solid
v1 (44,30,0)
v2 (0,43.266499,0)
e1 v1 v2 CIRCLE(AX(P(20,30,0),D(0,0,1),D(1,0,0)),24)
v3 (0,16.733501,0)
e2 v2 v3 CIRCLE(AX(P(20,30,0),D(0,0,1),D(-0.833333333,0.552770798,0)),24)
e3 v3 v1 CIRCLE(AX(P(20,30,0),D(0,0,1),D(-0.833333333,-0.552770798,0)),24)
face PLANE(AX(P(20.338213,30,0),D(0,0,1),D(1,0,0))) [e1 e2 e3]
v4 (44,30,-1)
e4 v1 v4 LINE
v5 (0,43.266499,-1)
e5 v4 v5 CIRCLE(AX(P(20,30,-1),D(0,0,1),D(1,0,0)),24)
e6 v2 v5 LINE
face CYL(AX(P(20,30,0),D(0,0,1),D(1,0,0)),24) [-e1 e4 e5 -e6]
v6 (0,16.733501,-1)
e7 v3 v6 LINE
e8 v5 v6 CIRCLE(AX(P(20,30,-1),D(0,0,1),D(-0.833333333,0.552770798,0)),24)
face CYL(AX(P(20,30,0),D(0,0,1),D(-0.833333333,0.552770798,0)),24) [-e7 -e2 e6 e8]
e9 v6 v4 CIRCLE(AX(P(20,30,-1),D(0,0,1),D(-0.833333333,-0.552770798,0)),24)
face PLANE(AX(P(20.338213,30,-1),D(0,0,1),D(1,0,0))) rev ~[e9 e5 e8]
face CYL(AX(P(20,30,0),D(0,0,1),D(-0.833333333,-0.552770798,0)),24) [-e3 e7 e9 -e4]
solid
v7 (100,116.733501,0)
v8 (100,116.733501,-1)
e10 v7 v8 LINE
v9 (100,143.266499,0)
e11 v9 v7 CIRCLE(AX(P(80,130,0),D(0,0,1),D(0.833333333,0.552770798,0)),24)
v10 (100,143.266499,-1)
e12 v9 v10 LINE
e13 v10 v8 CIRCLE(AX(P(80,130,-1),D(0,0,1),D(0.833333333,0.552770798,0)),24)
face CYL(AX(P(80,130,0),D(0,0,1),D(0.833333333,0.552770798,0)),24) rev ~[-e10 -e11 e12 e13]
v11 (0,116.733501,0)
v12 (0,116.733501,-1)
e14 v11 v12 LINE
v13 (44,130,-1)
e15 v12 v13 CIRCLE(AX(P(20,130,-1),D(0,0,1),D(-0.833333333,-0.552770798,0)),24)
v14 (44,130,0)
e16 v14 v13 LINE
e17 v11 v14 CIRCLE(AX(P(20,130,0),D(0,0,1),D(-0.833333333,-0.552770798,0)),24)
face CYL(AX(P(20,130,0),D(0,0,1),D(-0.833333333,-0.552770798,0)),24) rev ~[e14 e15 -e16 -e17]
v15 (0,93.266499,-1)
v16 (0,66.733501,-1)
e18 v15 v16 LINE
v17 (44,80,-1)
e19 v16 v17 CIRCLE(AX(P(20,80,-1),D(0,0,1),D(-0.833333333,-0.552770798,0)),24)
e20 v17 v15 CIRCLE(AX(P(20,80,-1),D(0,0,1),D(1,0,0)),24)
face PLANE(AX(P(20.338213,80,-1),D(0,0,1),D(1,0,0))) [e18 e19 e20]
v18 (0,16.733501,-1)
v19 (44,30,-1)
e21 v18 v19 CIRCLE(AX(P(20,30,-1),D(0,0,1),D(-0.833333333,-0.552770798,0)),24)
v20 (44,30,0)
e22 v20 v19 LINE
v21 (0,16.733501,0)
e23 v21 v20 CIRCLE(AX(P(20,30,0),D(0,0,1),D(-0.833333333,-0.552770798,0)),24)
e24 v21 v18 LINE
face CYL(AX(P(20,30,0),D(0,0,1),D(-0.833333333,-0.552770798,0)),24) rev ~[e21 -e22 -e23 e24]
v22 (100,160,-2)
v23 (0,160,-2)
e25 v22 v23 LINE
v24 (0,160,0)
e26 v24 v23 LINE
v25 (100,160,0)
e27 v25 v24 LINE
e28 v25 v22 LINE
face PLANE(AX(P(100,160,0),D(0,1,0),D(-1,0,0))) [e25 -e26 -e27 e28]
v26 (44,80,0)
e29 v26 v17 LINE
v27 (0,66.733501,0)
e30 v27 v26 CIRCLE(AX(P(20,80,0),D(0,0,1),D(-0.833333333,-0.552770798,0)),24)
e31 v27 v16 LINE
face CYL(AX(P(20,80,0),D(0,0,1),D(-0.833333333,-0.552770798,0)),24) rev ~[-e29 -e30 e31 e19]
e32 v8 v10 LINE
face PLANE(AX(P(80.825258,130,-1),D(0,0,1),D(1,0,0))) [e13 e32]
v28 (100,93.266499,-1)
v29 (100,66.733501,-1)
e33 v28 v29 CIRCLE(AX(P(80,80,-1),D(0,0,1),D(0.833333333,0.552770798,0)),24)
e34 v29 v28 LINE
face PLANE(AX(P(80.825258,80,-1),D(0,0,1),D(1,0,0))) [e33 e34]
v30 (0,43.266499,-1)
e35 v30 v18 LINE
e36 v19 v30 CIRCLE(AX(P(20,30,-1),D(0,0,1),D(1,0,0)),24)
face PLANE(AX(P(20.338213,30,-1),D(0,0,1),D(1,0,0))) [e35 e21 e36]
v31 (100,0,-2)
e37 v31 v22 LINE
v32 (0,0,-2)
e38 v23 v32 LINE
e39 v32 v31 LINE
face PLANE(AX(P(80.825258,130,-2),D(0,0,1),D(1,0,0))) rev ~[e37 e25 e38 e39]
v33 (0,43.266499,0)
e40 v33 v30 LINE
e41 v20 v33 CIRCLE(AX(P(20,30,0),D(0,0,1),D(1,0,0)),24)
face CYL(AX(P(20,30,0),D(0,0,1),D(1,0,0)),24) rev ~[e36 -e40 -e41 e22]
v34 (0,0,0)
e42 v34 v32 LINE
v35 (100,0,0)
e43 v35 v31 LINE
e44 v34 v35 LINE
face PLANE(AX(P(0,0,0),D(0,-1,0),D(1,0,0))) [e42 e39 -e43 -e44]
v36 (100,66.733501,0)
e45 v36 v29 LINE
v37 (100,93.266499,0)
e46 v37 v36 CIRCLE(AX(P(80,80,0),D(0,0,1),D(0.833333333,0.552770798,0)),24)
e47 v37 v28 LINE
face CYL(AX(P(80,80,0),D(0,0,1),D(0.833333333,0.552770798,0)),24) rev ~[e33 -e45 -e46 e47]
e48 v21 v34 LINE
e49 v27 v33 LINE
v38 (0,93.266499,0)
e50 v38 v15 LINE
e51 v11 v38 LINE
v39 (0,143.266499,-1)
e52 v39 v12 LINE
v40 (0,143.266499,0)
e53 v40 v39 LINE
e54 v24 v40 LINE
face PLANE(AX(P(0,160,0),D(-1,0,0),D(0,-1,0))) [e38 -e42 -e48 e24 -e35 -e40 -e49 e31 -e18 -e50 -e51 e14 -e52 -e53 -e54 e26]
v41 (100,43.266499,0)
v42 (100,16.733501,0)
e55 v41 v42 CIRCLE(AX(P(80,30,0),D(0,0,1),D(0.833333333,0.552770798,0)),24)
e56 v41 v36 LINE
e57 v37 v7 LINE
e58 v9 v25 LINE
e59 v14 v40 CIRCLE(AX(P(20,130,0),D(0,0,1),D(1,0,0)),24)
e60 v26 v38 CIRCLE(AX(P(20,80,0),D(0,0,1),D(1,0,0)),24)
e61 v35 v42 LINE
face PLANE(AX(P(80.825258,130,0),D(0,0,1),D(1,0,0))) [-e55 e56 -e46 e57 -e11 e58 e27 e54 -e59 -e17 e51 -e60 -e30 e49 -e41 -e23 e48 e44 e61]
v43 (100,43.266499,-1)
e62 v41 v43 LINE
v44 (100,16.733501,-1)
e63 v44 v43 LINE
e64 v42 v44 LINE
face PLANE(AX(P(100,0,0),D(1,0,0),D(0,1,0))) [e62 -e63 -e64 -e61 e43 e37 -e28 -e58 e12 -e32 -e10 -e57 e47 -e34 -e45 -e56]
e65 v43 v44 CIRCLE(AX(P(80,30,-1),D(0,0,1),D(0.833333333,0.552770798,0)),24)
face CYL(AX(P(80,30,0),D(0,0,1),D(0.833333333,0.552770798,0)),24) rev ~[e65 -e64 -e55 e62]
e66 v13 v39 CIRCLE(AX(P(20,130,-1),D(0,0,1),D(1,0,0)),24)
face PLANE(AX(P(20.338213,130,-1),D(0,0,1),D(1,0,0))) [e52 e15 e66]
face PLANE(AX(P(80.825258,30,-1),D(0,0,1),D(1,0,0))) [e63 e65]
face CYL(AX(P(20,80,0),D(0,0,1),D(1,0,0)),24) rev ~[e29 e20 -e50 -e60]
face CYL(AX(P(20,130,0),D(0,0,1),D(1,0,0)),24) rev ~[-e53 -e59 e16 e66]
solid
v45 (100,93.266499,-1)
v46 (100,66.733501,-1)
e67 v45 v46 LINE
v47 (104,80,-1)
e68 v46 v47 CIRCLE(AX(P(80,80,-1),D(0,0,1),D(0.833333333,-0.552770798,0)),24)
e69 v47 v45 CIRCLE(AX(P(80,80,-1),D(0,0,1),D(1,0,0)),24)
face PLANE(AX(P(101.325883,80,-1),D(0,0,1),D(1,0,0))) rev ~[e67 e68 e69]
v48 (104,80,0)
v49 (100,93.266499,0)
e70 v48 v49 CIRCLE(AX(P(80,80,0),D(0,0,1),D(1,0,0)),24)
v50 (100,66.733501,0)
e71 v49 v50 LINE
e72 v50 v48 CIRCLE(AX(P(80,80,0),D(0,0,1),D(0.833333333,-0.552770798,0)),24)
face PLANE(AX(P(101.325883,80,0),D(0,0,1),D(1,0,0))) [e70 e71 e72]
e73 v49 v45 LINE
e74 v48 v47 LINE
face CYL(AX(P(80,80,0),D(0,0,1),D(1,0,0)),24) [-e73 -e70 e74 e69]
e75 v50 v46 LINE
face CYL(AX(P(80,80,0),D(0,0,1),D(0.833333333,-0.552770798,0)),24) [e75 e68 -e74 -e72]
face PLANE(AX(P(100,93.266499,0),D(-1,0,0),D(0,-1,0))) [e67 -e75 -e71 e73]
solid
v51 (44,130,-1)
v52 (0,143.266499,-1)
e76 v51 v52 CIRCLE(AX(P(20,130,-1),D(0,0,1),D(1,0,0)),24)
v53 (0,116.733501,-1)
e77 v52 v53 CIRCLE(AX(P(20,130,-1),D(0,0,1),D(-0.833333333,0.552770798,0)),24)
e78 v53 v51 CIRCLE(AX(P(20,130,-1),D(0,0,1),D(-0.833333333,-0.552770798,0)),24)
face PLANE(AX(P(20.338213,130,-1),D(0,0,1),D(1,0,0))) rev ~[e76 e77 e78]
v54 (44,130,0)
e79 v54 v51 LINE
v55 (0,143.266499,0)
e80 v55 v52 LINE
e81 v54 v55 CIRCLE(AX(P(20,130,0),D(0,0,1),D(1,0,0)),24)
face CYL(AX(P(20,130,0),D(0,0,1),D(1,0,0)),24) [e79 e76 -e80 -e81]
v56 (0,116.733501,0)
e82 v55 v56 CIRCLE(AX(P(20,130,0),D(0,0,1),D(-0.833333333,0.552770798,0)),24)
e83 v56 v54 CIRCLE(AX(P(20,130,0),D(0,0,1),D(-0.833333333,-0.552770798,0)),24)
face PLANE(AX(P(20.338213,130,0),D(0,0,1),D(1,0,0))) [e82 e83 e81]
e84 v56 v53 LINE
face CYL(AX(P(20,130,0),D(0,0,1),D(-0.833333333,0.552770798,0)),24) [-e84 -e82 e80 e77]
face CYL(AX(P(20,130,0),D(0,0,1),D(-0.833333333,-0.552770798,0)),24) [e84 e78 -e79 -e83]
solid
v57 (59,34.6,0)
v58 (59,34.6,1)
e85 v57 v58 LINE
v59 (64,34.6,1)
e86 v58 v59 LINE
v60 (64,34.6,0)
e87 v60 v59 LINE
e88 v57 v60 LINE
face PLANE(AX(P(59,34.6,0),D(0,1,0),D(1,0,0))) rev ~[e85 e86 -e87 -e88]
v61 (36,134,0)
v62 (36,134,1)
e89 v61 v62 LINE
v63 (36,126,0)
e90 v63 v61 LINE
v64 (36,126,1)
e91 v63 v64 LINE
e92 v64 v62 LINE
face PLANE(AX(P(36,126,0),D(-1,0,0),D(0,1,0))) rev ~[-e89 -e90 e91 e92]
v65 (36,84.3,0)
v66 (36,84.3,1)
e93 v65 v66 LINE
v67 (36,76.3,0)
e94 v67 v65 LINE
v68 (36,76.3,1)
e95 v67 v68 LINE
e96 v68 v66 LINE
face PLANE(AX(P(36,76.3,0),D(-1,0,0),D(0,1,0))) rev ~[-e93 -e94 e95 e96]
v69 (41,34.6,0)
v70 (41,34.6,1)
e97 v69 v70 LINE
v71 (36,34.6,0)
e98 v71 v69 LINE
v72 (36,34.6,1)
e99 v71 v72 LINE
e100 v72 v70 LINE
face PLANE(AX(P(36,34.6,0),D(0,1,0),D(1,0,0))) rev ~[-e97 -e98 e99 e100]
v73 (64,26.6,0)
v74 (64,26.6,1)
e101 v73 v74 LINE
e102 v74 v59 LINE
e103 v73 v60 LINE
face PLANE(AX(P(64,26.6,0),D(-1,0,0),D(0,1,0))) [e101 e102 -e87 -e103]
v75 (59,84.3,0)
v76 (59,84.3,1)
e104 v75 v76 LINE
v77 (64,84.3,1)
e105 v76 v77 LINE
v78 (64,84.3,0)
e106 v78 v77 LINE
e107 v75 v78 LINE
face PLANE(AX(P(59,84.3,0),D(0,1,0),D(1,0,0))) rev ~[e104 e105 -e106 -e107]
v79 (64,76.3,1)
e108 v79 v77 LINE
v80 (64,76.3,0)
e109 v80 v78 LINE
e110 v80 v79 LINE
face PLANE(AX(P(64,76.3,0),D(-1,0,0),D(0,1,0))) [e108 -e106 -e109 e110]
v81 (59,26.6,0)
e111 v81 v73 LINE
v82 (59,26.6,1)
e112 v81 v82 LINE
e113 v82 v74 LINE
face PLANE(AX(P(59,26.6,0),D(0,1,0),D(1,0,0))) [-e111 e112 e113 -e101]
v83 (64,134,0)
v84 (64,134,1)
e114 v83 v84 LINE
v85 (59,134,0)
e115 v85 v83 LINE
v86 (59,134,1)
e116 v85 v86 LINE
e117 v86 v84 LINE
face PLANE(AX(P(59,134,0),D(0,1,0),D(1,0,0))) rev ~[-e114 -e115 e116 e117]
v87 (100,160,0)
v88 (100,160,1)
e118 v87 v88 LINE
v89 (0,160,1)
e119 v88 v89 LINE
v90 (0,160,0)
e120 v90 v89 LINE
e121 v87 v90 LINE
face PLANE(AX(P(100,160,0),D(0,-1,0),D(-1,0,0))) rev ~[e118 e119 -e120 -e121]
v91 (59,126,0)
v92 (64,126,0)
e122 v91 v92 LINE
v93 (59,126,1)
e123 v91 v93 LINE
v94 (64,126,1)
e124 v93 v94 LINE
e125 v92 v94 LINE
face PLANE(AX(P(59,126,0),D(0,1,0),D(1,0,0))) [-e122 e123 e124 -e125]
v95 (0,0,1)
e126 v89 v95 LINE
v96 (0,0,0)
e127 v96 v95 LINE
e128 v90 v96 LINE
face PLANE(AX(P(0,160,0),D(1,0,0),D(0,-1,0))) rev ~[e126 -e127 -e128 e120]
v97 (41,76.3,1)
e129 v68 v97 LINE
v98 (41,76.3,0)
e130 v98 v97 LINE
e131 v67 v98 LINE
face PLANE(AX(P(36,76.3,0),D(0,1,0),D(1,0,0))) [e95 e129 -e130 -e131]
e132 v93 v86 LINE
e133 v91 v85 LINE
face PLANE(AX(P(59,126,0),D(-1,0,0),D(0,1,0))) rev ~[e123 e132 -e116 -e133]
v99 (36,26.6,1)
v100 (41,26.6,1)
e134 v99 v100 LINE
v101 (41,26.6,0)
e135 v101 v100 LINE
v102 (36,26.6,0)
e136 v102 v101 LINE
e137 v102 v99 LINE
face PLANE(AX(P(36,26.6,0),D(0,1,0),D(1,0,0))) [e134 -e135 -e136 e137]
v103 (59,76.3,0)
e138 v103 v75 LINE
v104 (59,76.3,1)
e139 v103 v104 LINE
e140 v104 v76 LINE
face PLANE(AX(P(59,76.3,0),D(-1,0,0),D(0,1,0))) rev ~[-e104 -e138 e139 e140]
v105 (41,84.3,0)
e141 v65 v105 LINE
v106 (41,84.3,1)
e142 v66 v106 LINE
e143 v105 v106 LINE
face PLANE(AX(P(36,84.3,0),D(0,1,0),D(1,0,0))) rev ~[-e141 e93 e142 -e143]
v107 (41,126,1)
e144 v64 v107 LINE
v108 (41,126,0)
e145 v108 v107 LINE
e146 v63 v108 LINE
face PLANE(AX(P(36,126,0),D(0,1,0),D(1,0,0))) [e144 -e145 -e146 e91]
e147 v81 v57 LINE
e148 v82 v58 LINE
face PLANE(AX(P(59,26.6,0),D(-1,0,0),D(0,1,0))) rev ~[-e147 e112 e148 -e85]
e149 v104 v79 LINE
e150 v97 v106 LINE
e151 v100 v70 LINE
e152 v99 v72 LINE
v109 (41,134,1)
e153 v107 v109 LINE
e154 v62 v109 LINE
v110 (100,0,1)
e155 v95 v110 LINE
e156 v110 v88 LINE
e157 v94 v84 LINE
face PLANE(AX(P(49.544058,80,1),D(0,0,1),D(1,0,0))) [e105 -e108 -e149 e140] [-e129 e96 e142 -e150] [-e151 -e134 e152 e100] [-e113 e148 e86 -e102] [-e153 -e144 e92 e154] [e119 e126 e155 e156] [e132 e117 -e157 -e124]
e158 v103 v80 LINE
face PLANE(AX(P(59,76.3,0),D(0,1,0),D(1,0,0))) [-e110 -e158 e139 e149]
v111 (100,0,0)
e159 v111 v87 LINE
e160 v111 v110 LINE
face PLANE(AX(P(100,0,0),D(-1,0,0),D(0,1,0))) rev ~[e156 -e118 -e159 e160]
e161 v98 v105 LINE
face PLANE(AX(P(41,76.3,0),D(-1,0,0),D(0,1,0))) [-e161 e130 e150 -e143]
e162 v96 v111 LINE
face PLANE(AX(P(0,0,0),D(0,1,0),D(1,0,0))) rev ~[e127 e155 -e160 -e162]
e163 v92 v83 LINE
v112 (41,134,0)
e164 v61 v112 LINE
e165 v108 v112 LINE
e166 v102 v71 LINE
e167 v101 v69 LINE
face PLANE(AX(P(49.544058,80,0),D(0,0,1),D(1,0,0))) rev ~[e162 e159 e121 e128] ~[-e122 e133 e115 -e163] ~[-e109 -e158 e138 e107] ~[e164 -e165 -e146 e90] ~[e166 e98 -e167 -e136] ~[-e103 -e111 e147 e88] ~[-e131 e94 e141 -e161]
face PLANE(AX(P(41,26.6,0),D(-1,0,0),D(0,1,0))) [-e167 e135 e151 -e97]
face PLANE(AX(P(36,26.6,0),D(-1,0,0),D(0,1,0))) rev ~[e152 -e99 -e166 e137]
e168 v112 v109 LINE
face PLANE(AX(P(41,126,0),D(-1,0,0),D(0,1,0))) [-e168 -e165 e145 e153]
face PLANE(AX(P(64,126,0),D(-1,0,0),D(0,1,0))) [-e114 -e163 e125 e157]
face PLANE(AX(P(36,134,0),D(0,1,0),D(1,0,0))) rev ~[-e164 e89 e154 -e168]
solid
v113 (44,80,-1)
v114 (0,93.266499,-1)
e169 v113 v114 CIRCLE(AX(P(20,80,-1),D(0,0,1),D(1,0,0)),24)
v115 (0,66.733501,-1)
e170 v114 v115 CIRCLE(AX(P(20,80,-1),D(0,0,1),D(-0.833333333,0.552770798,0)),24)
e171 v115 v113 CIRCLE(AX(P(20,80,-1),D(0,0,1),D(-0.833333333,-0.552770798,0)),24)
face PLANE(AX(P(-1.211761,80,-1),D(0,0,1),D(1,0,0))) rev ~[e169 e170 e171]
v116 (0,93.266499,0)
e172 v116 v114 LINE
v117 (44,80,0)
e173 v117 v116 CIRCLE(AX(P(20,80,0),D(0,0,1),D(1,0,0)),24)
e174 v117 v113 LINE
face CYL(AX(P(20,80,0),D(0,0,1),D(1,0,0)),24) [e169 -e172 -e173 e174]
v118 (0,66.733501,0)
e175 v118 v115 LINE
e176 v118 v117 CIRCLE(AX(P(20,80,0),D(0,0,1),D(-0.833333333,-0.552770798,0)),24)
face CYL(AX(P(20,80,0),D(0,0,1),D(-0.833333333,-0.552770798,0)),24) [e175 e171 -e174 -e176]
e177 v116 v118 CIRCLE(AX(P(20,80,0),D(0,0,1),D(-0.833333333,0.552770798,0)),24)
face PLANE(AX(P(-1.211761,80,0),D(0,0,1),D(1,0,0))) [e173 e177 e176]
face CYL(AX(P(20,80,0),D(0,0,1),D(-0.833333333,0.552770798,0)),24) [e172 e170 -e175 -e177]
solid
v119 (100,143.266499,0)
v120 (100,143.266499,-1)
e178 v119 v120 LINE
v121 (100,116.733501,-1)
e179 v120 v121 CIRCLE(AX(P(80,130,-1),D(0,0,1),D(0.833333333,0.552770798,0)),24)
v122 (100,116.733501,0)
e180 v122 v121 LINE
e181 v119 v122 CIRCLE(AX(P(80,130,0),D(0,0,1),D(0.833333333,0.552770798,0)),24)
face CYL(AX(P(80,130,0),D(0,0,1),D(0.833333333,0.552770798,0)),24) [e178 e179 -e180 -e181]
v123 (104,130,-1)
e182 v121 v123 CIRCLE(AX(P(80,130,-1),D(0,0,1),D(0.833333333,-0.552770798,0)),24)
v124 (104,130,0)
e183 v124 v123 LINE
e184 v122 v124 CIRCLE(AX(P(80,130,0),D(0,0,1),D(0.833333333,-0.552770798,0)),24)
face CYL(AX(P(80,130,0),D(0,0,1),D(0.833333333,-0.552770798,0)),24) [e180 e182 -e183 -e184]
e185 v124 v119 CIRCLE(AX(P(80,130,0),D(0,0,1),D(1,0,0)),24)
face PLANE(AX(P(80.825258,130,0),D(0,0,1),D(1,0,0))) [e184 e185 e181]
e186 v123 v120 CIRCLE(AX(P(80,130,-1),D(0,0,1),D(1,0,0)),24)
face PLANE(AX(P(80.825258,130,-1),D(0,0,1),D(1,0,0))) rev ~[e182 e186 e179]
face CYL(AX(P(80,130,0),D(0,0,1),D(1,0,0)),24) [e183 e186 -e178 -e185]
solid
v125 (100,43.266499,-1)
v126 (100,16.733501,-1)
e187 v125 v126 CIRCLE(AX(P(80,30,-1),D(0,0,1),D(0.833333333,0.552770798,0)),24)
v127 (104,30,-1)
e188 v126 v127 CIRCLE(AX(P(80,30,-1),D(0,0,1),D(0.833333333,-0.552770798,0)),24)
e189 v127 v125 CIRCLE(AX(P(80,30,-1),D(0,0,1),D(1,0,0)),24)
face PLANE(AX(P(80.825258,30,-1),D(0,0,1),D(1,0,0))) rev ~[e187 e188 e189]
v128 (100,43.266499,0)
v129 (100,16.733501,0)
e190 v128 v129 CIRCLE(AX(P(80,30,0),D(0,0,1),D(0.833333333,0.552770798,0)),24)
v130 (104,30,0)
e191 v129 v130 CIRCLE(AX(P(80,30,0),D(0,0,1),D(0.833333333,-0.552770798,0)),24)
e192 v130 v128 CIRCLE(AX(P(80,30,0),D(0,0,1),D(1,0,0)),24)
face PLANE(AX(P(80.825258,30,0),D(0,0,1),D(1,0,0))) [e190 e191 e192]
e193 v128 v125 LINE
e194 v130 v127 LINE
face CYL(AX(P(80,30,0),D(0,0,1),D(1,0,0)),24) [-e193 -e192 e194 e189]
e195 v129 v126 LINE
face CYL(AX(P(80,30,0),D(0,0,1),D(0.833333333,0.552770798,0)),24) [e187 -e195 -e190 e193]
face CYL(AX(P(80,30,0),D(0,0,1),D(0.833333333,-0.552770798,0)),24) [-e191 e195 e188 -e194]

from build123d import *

# Parameters (mm, degrees)
F0_W     = 5
F0_H     = 8
F1_DEPTH = 2
F2_DEPTH = 1
F3_DEPTH = 1
F4_DEPTH = 1


with BuildPart() as f1:
    # F0 (on Top) → F1 (new body)
    with BuildSketch(Plane.XY):
        with BuildLine():
            ThreePointArc((100, 143.2664991614), (56, 130), (100, 116.7335008386))
            Line((100, 116.7335008386), (100, 143.2664991614))
        make_face()
        with Locations((61.5, 130)):
            Rectangle(F0_W, F0_H, mode=Mode.SUBTRACT)
        with BuildLine():
            Line((0, 16.7335008386), (0, 0))
            Line((0, 0), (100, 0))
            Line((100, 0), (100, 16.7335008386))
            ThreePointArc((100, 16.7335008386), (56, 30), (100, 43.2664991614))
            Line((100, 43.2664991614), (100, 66.7335008386))
            ThreePointArc((100, 66.7335008386), (56, 80), (100, 93.2664991614))
            Line((100, 93.2664991614), (100, 116.7335008386))
            ThreePointArc((100, 116.7335008386), (56, 130), (100, 143.2664991614))
            Line((100, 143.2664991614), (100, 160))
            Line((100, 160), (0, 160))
            Line((0, 160), (0, 143.2664991614))
            ThreePointArc((0, 143.2664991614), (26.9282032303, 152.9782505862), (44, 130))
            ThreePointArc((44, 130), (26.9282032303, 107.0217494138), (0, 116.7335008386))
            Line((0, 116.7335008386), (0, 93.2664991614))
            ThreePointArc((0, 93.2664991614), (26.9282032303, 102.9782505862), (44, 80))
            ThreePointArc((44, 80), (26.9282032303, 57.0217494138), (0, 66.7335008386))
            Line((0, 66.7335008386), (0, 43.2664991614))
            ThreePointArc((0, 43.2664991614), (26.9282032303, 52.9782505862), (44, 30))
            ThreePointArc((44, 30), (26.9282032303, 7.0217494138), (0, 16.7335008386))
        make_face()
        with BuildLine():
            ThreePointArc((100, 43.2664991614), (56, 30), (100, 16.7335008386))
            Line((100, 16.7335008386), (100, 43.2664991614))
        make_face()
        with Locations((61.5, 30.6)):
            Rectangle(F0_W, F0_H, mode=Mode.SUBTRACT)
        with BuildLine():
            Line((0, 93.2664991614), (0, 66.7335008386))
            ThreePointArc((0, 66.7335008386), (26.9282032303, 57.0217494138), (44, 80))
            ThreePointArc((44, 80), (26.9282032303, 102.9782505862), (0, 93.2664991614))
        make_face()
        with Locations((38.5, 80.3)):
            Rectangle(F0_W, F0_H, mode=Mode.SUBTRACT)
        with BuildLine():
            ThreePointArc((100, 93.2664991614), (56, 80), (100, 66.7335008386))
            Line((100, 66.7335008386), (100, 93.2664991614))
        make_face()
        with Locations((61.5, 80.3)):
            Rectangle(F0_W, F0_H, mode=Mode.SUBTRACT)
        with BuildLine():
            Line((0, 43.2664991614), (0, 16.7335008386))
            ThreePointArc((0, 16.7335008386), (26.9282032303, 7.0217494138), (44, 30))
            ThreePointArc((44, 30), (26.9282032303, 52.9782505862), (0, 43.2664991614))
        make_face()
        with Locations((38.5, 30.6)):
            Rectangle(F0_W, F0_H, mode=Mode.SUBTRACT)
        with BuildLine():
            Line((0, 143.2664991614), (0, 116.7335008386))
            ThreePointArc((0, 116.7335008386), (26.9282032303, 107.0217494138), (44, 130))
            ThreePointArc((44, 130), (26.9282032303, 152.9782505862), (0, 143.2664991614))
        make_face()
        with Locations((38.5, 130)):
            Rectangle(F0_W, F0_H, mode=Mode.SUBTRACT)
        with Locations((38.5, 80.3)):
            Rectangle(F0_W, F0_H)
        with Locations((38.5, 130)):
            Rectangle(F0_W, F0_H)
        with Locations((61.5, 130)):
            Rectangle(F0_W, F0_H)
        with Locations((61.5, 80.3)):
            Rectangle(F0_W, F0_H)
        with Locations((38.5, 30.6)):
            Rectangle(F0_W, F0_H)
        with Locations((61.5, 30.6)):
            Rectangle(F0_W, F0_H)
    extrude(amount=-F1_DEPTH)

    # F0 (on Top) → F2 (cut)
    with BuildSketch(Plane.XY):
        with BuildLine():
            Line((0, 143.2664991614), (0, 116.7335008386))
            ThreePointArc((0, 116.7335008386), (26.9282032303, 107.0217494138), (44, 130))
            ThreePointArc((44, 130), (26.9282032303, 152.9782505862), (0, 143.2664991614))
        make_face()
        with Locations((38.5, 130)):
            Rectangle(F0_W, F0_H, mode=Mode.SUBTRACT)
        with Locations((38.5, 130)):
            Rectangle(F0_W, F0_H)
        with BuildLine():
            ThreePointArc((100, 143.2664991614), (56, 130), (100, 116.7335008386))
            Line((100, 116.7335008386), (100, 143.2664991614))
        make_face()
        with Locations((61.5, 130)):
            Rectangle(F0_W, F0_H, mode=Mode.SUBTRACT)
        with Locations((61.5, 130)):
            Rectangle(F0_W, F0_H)
        with BuildLine():
            Line((0, 93.2664991614), (0, 66.7335008386))
            ThreePointArc((0, 66.7335008386), (26.9282032303, 57.0217494138), (44, 80))
            ThreePointArc((44, 80), (26.9282032303, 102.9782505862), (0, 93.2664991614))
        make_face()
        with Locations((38.5, 80.3)):
            Rectangle(F0_W, F0_H, mode=Mode.SUBTRACT)
        with Locations((38.5, 80.3)):
            Rectangle(F0_W, F0_H)
        with BuildLine():
            ThreePointArc((100, 93.2664991614), (56, 80), (100, 66.7335008386))
            Line((100, 66.7335008386), (100, 93.2664991614))
        make_face()
        with Locations((61.5, 80.3)):
            Rectangle(F0_W, F0_H, mode=Mode.SUBTRACT)
        with Locations((61.5, 80.3)):
            Rectangle(F0_W, F0_H)
        with BuildLine():
            Line((0, 43.2664991614), (0, 16.7335008386))
            ThreePointArc((0, 16.7335008386), (26.9282032303, 7.0217494138), (44, 30))
            ThreePointArc((44, 30), (26.9282032303, 52.9782505862), (0, 43.2664991614))
        make_face()
        with Locations((38.5, 30.6)):
            Rectangle(F0_W, F0_H, mode=Mode.SUBTRACT)
        with BuildLine():
            ThreePointArc((100, 43.2664991614), (56, 30), (100, 16.7335008386))
            Line((100, 16.7335008386), (100, 43.2664991614))
        make_face()
        with Locations((61.5, 30.6)):
            Rectangle(F0_W, F0_H, mode=Mode.SUBTRACT)
        with Locations((38.5, 30.6)):
            Rectangle(F0_W, F0_H)
        with Locations((61.5, 30.6)):
            Rectangle(F0_W, F0_H)
    extrude(amount=-F2_DEPTH, mode=Mode.SUBTRACT)


with BuildPart() as f3:
    # F0 (on Top) → F3 (new body)
    with BuildSketch(Plane.XY):
        with BuildLine():
            Line((0, 143.2664991614), (0, 116.7335008386))
            ThreePointArc((0, 116.7335008386), (26.9282032303, 107.0217494138), (44, 130))
            ThreePointArc((44, 130), (26.9282032303, 152.9782505862), (0, 143.2664991614))
        make_face()
        with Locations((38.5, 130)):
            Rectangle(F0_W, F0_H, mode=Mode.SUBTRACT)
        with BuildLine():
            ThreePointArc((0, 143.2664991614), (-4, 130), (0, 116.7335008386))
            Line((0, 116.7335008386), (0, 143.2664991614))
        make_face()
        with Locations((38.5, 130)):
            Rectangle(F0_W, F0_H)
    extrude(amount=-F3_DEPTH)


with BuildPart() as f3b:
    # F0 (on Top) → F3, piece 2 (new body)
    with BuildSketch(Plane.XY):
        with BuildLine():
            ThreePointArc((100, 143.2664991614), (56, 130), (100, 116.7335008386))
            Line((100, 116.7335008386), (100, 143.2664991614))
        make_face()
        with Locations((61.5, 130)):
            Rectangle(F0_W, F0_H, mode=Mode.SUBTRACT)
        with BuildLine():
            Line((100, 143.2664991614), (100, 116.7335008386))
            ThreePointArc((100, 116.7335008386), (102.9782505862, 123.0717967697), (104, 130))
            ThreePointArc((104, 130), (102.9782505862, 136.9282032303), (100, 143.2664991614))
        make_face()
        with Locations((61.5, 130)):
            Rectangle(F0_W, F0_H)
    extrude(amount=-F3_DEPTH)


with BuildPart() as f3c:
    # F0 (on Top) → F3, piece 3 (new body)
    with BuildSketch(Plane.XY):
        with BuildLine():
            Line((100, 93.2664991614), (100, 66.7335008386))
            ThreePointArc((100, 66.7335008386), (102.9782505862, 73.0717967697), (104, 80))
            ThreePointArc((104, 80), (102.9782505862, 86.9282032303), (100, 93.2664991614))
        make_face()
    extrude(amount=-F3_DEPTH)


with BuildPart() as f3d:
    # F0 (on Top) → F3, piece 4 (new body)
    with BuildSketch(Plane.XY):
        with BuildLine():
            ThreePointArc((100, 43.2664991614), (56, 30), (100, 16.7335008386))
            Line((100, 16.7335008386), (100, 43.2664991614))
        make_face()
        with Locations((61.5, 30.6)):
            Rectangle(F0_W, F0_H, mode=Mode.SUBTRACT)
        with BuildLine():
            Line((100, 43.2664991614), (100, 16.7335008386))
            ThreePointArc((100, 16.7335008386), (102.9782505862, 23.0717967697), (104, 30))
            ThreePointArc((104, 30), (102.9782505862, 36.9282032303), (100, 43.2664991614))
        make_face()
        with Locations((61.5, 30.6)):
            Rectangle(F0_W, F0_H)
    extrude(amount=-F3_DEPTH)


with BuildPart() as f3e:
    # F0 (on Top) → F3, piece 5 (new body)
    with BuildSketch(Plane.XY):
        with BuildLine():
            Line((0, 43.2664991614), (0, 16.7335008386))
            ThreePointArc((0, 16.7335008386), (26.9282032303, 7.0217494138), (44, 30))
            ThreePointArc((44, 30), (26.9282032303, 52.9782505862), (0, 43.2664991614))
        make_face()
        with Locations((38.5, 30.6)):
            Rectangle(F0_W, F0_H, mode=Mode.SUBTRACT)
        with BuildLine():
            ThreePointArc((0, 43.2664991614), (-4, 30), (0, 16.7335008386))
            Line((0, 16.7335008386), (0, 43.2664991614))
        make_face()
        with Locations((38.5, 30.6)):
            Rectangle(F0_W, F0_H)
    extrude(amount=-F3_DEPTH)


with BuildPart() as f3f:
    # F0 (on Top) → F3, piece 6 (new body)
    with BuildSketch(Plane.XY):
        with BuildLine():
            ThreePointArc((0, 93.2664991614), (-4, 80), (0, 66.7335008386))
            Line((0, 66.7335008386), (0, 93.2664991614))
        make_face()
        with BuildLine():
            Line((0, 93.2664991614), (0, 66.7335008386))
            ThreePointArc((0, 66.7335008386), (26.9282032303, 57.0217494138), (44, 80))
            ThreePointArc((44, 80), (26.9282032303, 102.9782505862), (0, 93.2664991614))
        make_face()
        with Locations((38.5, 80.3)):
            Rectangle(F0_W, F0_H, mode=Mode.SUBTRACT)
        with Locations((38.5, 80.3)):
            Rectangle(F0_W, F0_H)
    extrude(amount=-F3_DEPTH)


with BuildPart() as f4:
    # F0 (on Top) → F4 (new body)
    with BuildSketch(Plane.XY):
        with BuildLine():
            Line((0, 16.7335008386), (0, 0))
            Line((0, 0), (100, 0))
            Line((100, 0), (100, 16.7335008386))
            ThreePointArc((100, 16.7335008386), (56, 30), (100, 43.2664991614))
            Line((100, 43.2664991614), (100, 66.7335008386))
            ThreePointArc((100, 66.7335008386), (56, 80), (100, 93.2664991614))
            Line((100, 93.2664991614), (100, 116.7335008386))
            ThreePointArc((100, 116.7335008386), (56, 130), (100, 143.2664991614))
            Line((100, 143.2664991614), (100, 160))
            Line((100, 160), (0, 160))
            Line((0, 160), (0, 143.2664991614))
            ThreePointArc((0, 143.2664991614), (26.9282032303, 152.9782505862), (44, 130))
            ThreePointArc((44, 130), (26.9282032303, 107.0217494138), (0, 116.7335008386))
            Line((0, 116.7335008386), (0, 93.2664991614))
            ThreePointArc((0, 93.2664991614), (26.9282032303, 102.9782505862), (44, 80))
            ThreePointArc((44, 80), (26.9282032303, 57.0217494138), (0, 66.7335008386))
            Line((0, 66.7335008386), (0, 43.2664991614))
            ThreePointArc((0, 43.2664991614), (26.9282032303, 52.9782505862), (44, 30))
            ThreePointArc((44, 30), (26.9282032303, 7.0217494138), (0, 16.7335008386))
        make_face()
        with BuildLine():
            Line((0, 143.2664991614), (0, 116.7335008386))
            ThreePointArc((0, 116.7335008386), (26.9282032303, 107.0217494138), (44, 130))
            ThreePointArc((44, 130), (26.9282032303, 152.9782505862), (0, 143.2664991614))
        make_face()
        with Locations((38.5, 130)):
            Rectangle(F0_W, F0_H, mode=Mode.SUBTRACT)
        with BuildLine():
            ThreePointArc((100, 143.2664991614), (56, 130), (100, 116.7335008386))
            Line((100, 116.7335008386), (100, 143.2664991614))
        make_face()
        with Locations((61.5, 130)):
            Rectangle(F0_W, F0_H, mode=Mode.SUBTRACT)
        with BuildLine():
            ThreePointArc((100, 93.2664991614), (56, 80), (100, 66.7335008386))
            Line((100, 66.7335008386), (100, 93.2664991614))
        make_face()
        with Locations((61.5, 80.3)):
            Rectangle(F0_W, F0_H, mode=Mode.SUBTRACT)
        with BuildLine():
            Line((0, 93.2664991614), (0, 66.7335008386))
            ThreePointArc((0, 66.7335008386), (26.9282032303, 57.0217494138), (44, 80))
            ThreePointArc((44, 80), (26.9282032303, 102.9782505862), (0, 93.2664991614))
        make_face()
        with Locations((38.5, 80.3)):
            Rectangle(F0_W, F0_H, mode=Mode.SUBTRACT)
        with BuildLine():
            Line((0, 43.2664991614), (0, 16.7335008386))
            ThreePointArc((0, 16.7335008386), (26.9282032303, 7.0217494138), (44, 30))
            ThreePointArc((44, 30), (26.9282032303, 52.9782505862), (0, 43.2664991614))
        make_face()
        with Locations((38.5, 30.6)):
            Rectangle(F0_W, F0_H, mode=Mode.SUBTRACT)
        with BuildLine():
            ThreePointArc((100, 43.2664991614), (56, 30), (100, 16.7335008386))
            Line((100, 16.7335008386), (100, 43.2664991614))
        make_face()
        with Locations((61.5, 30.6)):
            Rectangle(F0_W, F0_H, mode=Mode.SUBTRACT)
    extrude(amount=F4_DEPTH)


solid = Compound([f1.part, f3.part, f3b.part, f3c.part, f3d.part, f3e.part, f3f.part, f4.part])
